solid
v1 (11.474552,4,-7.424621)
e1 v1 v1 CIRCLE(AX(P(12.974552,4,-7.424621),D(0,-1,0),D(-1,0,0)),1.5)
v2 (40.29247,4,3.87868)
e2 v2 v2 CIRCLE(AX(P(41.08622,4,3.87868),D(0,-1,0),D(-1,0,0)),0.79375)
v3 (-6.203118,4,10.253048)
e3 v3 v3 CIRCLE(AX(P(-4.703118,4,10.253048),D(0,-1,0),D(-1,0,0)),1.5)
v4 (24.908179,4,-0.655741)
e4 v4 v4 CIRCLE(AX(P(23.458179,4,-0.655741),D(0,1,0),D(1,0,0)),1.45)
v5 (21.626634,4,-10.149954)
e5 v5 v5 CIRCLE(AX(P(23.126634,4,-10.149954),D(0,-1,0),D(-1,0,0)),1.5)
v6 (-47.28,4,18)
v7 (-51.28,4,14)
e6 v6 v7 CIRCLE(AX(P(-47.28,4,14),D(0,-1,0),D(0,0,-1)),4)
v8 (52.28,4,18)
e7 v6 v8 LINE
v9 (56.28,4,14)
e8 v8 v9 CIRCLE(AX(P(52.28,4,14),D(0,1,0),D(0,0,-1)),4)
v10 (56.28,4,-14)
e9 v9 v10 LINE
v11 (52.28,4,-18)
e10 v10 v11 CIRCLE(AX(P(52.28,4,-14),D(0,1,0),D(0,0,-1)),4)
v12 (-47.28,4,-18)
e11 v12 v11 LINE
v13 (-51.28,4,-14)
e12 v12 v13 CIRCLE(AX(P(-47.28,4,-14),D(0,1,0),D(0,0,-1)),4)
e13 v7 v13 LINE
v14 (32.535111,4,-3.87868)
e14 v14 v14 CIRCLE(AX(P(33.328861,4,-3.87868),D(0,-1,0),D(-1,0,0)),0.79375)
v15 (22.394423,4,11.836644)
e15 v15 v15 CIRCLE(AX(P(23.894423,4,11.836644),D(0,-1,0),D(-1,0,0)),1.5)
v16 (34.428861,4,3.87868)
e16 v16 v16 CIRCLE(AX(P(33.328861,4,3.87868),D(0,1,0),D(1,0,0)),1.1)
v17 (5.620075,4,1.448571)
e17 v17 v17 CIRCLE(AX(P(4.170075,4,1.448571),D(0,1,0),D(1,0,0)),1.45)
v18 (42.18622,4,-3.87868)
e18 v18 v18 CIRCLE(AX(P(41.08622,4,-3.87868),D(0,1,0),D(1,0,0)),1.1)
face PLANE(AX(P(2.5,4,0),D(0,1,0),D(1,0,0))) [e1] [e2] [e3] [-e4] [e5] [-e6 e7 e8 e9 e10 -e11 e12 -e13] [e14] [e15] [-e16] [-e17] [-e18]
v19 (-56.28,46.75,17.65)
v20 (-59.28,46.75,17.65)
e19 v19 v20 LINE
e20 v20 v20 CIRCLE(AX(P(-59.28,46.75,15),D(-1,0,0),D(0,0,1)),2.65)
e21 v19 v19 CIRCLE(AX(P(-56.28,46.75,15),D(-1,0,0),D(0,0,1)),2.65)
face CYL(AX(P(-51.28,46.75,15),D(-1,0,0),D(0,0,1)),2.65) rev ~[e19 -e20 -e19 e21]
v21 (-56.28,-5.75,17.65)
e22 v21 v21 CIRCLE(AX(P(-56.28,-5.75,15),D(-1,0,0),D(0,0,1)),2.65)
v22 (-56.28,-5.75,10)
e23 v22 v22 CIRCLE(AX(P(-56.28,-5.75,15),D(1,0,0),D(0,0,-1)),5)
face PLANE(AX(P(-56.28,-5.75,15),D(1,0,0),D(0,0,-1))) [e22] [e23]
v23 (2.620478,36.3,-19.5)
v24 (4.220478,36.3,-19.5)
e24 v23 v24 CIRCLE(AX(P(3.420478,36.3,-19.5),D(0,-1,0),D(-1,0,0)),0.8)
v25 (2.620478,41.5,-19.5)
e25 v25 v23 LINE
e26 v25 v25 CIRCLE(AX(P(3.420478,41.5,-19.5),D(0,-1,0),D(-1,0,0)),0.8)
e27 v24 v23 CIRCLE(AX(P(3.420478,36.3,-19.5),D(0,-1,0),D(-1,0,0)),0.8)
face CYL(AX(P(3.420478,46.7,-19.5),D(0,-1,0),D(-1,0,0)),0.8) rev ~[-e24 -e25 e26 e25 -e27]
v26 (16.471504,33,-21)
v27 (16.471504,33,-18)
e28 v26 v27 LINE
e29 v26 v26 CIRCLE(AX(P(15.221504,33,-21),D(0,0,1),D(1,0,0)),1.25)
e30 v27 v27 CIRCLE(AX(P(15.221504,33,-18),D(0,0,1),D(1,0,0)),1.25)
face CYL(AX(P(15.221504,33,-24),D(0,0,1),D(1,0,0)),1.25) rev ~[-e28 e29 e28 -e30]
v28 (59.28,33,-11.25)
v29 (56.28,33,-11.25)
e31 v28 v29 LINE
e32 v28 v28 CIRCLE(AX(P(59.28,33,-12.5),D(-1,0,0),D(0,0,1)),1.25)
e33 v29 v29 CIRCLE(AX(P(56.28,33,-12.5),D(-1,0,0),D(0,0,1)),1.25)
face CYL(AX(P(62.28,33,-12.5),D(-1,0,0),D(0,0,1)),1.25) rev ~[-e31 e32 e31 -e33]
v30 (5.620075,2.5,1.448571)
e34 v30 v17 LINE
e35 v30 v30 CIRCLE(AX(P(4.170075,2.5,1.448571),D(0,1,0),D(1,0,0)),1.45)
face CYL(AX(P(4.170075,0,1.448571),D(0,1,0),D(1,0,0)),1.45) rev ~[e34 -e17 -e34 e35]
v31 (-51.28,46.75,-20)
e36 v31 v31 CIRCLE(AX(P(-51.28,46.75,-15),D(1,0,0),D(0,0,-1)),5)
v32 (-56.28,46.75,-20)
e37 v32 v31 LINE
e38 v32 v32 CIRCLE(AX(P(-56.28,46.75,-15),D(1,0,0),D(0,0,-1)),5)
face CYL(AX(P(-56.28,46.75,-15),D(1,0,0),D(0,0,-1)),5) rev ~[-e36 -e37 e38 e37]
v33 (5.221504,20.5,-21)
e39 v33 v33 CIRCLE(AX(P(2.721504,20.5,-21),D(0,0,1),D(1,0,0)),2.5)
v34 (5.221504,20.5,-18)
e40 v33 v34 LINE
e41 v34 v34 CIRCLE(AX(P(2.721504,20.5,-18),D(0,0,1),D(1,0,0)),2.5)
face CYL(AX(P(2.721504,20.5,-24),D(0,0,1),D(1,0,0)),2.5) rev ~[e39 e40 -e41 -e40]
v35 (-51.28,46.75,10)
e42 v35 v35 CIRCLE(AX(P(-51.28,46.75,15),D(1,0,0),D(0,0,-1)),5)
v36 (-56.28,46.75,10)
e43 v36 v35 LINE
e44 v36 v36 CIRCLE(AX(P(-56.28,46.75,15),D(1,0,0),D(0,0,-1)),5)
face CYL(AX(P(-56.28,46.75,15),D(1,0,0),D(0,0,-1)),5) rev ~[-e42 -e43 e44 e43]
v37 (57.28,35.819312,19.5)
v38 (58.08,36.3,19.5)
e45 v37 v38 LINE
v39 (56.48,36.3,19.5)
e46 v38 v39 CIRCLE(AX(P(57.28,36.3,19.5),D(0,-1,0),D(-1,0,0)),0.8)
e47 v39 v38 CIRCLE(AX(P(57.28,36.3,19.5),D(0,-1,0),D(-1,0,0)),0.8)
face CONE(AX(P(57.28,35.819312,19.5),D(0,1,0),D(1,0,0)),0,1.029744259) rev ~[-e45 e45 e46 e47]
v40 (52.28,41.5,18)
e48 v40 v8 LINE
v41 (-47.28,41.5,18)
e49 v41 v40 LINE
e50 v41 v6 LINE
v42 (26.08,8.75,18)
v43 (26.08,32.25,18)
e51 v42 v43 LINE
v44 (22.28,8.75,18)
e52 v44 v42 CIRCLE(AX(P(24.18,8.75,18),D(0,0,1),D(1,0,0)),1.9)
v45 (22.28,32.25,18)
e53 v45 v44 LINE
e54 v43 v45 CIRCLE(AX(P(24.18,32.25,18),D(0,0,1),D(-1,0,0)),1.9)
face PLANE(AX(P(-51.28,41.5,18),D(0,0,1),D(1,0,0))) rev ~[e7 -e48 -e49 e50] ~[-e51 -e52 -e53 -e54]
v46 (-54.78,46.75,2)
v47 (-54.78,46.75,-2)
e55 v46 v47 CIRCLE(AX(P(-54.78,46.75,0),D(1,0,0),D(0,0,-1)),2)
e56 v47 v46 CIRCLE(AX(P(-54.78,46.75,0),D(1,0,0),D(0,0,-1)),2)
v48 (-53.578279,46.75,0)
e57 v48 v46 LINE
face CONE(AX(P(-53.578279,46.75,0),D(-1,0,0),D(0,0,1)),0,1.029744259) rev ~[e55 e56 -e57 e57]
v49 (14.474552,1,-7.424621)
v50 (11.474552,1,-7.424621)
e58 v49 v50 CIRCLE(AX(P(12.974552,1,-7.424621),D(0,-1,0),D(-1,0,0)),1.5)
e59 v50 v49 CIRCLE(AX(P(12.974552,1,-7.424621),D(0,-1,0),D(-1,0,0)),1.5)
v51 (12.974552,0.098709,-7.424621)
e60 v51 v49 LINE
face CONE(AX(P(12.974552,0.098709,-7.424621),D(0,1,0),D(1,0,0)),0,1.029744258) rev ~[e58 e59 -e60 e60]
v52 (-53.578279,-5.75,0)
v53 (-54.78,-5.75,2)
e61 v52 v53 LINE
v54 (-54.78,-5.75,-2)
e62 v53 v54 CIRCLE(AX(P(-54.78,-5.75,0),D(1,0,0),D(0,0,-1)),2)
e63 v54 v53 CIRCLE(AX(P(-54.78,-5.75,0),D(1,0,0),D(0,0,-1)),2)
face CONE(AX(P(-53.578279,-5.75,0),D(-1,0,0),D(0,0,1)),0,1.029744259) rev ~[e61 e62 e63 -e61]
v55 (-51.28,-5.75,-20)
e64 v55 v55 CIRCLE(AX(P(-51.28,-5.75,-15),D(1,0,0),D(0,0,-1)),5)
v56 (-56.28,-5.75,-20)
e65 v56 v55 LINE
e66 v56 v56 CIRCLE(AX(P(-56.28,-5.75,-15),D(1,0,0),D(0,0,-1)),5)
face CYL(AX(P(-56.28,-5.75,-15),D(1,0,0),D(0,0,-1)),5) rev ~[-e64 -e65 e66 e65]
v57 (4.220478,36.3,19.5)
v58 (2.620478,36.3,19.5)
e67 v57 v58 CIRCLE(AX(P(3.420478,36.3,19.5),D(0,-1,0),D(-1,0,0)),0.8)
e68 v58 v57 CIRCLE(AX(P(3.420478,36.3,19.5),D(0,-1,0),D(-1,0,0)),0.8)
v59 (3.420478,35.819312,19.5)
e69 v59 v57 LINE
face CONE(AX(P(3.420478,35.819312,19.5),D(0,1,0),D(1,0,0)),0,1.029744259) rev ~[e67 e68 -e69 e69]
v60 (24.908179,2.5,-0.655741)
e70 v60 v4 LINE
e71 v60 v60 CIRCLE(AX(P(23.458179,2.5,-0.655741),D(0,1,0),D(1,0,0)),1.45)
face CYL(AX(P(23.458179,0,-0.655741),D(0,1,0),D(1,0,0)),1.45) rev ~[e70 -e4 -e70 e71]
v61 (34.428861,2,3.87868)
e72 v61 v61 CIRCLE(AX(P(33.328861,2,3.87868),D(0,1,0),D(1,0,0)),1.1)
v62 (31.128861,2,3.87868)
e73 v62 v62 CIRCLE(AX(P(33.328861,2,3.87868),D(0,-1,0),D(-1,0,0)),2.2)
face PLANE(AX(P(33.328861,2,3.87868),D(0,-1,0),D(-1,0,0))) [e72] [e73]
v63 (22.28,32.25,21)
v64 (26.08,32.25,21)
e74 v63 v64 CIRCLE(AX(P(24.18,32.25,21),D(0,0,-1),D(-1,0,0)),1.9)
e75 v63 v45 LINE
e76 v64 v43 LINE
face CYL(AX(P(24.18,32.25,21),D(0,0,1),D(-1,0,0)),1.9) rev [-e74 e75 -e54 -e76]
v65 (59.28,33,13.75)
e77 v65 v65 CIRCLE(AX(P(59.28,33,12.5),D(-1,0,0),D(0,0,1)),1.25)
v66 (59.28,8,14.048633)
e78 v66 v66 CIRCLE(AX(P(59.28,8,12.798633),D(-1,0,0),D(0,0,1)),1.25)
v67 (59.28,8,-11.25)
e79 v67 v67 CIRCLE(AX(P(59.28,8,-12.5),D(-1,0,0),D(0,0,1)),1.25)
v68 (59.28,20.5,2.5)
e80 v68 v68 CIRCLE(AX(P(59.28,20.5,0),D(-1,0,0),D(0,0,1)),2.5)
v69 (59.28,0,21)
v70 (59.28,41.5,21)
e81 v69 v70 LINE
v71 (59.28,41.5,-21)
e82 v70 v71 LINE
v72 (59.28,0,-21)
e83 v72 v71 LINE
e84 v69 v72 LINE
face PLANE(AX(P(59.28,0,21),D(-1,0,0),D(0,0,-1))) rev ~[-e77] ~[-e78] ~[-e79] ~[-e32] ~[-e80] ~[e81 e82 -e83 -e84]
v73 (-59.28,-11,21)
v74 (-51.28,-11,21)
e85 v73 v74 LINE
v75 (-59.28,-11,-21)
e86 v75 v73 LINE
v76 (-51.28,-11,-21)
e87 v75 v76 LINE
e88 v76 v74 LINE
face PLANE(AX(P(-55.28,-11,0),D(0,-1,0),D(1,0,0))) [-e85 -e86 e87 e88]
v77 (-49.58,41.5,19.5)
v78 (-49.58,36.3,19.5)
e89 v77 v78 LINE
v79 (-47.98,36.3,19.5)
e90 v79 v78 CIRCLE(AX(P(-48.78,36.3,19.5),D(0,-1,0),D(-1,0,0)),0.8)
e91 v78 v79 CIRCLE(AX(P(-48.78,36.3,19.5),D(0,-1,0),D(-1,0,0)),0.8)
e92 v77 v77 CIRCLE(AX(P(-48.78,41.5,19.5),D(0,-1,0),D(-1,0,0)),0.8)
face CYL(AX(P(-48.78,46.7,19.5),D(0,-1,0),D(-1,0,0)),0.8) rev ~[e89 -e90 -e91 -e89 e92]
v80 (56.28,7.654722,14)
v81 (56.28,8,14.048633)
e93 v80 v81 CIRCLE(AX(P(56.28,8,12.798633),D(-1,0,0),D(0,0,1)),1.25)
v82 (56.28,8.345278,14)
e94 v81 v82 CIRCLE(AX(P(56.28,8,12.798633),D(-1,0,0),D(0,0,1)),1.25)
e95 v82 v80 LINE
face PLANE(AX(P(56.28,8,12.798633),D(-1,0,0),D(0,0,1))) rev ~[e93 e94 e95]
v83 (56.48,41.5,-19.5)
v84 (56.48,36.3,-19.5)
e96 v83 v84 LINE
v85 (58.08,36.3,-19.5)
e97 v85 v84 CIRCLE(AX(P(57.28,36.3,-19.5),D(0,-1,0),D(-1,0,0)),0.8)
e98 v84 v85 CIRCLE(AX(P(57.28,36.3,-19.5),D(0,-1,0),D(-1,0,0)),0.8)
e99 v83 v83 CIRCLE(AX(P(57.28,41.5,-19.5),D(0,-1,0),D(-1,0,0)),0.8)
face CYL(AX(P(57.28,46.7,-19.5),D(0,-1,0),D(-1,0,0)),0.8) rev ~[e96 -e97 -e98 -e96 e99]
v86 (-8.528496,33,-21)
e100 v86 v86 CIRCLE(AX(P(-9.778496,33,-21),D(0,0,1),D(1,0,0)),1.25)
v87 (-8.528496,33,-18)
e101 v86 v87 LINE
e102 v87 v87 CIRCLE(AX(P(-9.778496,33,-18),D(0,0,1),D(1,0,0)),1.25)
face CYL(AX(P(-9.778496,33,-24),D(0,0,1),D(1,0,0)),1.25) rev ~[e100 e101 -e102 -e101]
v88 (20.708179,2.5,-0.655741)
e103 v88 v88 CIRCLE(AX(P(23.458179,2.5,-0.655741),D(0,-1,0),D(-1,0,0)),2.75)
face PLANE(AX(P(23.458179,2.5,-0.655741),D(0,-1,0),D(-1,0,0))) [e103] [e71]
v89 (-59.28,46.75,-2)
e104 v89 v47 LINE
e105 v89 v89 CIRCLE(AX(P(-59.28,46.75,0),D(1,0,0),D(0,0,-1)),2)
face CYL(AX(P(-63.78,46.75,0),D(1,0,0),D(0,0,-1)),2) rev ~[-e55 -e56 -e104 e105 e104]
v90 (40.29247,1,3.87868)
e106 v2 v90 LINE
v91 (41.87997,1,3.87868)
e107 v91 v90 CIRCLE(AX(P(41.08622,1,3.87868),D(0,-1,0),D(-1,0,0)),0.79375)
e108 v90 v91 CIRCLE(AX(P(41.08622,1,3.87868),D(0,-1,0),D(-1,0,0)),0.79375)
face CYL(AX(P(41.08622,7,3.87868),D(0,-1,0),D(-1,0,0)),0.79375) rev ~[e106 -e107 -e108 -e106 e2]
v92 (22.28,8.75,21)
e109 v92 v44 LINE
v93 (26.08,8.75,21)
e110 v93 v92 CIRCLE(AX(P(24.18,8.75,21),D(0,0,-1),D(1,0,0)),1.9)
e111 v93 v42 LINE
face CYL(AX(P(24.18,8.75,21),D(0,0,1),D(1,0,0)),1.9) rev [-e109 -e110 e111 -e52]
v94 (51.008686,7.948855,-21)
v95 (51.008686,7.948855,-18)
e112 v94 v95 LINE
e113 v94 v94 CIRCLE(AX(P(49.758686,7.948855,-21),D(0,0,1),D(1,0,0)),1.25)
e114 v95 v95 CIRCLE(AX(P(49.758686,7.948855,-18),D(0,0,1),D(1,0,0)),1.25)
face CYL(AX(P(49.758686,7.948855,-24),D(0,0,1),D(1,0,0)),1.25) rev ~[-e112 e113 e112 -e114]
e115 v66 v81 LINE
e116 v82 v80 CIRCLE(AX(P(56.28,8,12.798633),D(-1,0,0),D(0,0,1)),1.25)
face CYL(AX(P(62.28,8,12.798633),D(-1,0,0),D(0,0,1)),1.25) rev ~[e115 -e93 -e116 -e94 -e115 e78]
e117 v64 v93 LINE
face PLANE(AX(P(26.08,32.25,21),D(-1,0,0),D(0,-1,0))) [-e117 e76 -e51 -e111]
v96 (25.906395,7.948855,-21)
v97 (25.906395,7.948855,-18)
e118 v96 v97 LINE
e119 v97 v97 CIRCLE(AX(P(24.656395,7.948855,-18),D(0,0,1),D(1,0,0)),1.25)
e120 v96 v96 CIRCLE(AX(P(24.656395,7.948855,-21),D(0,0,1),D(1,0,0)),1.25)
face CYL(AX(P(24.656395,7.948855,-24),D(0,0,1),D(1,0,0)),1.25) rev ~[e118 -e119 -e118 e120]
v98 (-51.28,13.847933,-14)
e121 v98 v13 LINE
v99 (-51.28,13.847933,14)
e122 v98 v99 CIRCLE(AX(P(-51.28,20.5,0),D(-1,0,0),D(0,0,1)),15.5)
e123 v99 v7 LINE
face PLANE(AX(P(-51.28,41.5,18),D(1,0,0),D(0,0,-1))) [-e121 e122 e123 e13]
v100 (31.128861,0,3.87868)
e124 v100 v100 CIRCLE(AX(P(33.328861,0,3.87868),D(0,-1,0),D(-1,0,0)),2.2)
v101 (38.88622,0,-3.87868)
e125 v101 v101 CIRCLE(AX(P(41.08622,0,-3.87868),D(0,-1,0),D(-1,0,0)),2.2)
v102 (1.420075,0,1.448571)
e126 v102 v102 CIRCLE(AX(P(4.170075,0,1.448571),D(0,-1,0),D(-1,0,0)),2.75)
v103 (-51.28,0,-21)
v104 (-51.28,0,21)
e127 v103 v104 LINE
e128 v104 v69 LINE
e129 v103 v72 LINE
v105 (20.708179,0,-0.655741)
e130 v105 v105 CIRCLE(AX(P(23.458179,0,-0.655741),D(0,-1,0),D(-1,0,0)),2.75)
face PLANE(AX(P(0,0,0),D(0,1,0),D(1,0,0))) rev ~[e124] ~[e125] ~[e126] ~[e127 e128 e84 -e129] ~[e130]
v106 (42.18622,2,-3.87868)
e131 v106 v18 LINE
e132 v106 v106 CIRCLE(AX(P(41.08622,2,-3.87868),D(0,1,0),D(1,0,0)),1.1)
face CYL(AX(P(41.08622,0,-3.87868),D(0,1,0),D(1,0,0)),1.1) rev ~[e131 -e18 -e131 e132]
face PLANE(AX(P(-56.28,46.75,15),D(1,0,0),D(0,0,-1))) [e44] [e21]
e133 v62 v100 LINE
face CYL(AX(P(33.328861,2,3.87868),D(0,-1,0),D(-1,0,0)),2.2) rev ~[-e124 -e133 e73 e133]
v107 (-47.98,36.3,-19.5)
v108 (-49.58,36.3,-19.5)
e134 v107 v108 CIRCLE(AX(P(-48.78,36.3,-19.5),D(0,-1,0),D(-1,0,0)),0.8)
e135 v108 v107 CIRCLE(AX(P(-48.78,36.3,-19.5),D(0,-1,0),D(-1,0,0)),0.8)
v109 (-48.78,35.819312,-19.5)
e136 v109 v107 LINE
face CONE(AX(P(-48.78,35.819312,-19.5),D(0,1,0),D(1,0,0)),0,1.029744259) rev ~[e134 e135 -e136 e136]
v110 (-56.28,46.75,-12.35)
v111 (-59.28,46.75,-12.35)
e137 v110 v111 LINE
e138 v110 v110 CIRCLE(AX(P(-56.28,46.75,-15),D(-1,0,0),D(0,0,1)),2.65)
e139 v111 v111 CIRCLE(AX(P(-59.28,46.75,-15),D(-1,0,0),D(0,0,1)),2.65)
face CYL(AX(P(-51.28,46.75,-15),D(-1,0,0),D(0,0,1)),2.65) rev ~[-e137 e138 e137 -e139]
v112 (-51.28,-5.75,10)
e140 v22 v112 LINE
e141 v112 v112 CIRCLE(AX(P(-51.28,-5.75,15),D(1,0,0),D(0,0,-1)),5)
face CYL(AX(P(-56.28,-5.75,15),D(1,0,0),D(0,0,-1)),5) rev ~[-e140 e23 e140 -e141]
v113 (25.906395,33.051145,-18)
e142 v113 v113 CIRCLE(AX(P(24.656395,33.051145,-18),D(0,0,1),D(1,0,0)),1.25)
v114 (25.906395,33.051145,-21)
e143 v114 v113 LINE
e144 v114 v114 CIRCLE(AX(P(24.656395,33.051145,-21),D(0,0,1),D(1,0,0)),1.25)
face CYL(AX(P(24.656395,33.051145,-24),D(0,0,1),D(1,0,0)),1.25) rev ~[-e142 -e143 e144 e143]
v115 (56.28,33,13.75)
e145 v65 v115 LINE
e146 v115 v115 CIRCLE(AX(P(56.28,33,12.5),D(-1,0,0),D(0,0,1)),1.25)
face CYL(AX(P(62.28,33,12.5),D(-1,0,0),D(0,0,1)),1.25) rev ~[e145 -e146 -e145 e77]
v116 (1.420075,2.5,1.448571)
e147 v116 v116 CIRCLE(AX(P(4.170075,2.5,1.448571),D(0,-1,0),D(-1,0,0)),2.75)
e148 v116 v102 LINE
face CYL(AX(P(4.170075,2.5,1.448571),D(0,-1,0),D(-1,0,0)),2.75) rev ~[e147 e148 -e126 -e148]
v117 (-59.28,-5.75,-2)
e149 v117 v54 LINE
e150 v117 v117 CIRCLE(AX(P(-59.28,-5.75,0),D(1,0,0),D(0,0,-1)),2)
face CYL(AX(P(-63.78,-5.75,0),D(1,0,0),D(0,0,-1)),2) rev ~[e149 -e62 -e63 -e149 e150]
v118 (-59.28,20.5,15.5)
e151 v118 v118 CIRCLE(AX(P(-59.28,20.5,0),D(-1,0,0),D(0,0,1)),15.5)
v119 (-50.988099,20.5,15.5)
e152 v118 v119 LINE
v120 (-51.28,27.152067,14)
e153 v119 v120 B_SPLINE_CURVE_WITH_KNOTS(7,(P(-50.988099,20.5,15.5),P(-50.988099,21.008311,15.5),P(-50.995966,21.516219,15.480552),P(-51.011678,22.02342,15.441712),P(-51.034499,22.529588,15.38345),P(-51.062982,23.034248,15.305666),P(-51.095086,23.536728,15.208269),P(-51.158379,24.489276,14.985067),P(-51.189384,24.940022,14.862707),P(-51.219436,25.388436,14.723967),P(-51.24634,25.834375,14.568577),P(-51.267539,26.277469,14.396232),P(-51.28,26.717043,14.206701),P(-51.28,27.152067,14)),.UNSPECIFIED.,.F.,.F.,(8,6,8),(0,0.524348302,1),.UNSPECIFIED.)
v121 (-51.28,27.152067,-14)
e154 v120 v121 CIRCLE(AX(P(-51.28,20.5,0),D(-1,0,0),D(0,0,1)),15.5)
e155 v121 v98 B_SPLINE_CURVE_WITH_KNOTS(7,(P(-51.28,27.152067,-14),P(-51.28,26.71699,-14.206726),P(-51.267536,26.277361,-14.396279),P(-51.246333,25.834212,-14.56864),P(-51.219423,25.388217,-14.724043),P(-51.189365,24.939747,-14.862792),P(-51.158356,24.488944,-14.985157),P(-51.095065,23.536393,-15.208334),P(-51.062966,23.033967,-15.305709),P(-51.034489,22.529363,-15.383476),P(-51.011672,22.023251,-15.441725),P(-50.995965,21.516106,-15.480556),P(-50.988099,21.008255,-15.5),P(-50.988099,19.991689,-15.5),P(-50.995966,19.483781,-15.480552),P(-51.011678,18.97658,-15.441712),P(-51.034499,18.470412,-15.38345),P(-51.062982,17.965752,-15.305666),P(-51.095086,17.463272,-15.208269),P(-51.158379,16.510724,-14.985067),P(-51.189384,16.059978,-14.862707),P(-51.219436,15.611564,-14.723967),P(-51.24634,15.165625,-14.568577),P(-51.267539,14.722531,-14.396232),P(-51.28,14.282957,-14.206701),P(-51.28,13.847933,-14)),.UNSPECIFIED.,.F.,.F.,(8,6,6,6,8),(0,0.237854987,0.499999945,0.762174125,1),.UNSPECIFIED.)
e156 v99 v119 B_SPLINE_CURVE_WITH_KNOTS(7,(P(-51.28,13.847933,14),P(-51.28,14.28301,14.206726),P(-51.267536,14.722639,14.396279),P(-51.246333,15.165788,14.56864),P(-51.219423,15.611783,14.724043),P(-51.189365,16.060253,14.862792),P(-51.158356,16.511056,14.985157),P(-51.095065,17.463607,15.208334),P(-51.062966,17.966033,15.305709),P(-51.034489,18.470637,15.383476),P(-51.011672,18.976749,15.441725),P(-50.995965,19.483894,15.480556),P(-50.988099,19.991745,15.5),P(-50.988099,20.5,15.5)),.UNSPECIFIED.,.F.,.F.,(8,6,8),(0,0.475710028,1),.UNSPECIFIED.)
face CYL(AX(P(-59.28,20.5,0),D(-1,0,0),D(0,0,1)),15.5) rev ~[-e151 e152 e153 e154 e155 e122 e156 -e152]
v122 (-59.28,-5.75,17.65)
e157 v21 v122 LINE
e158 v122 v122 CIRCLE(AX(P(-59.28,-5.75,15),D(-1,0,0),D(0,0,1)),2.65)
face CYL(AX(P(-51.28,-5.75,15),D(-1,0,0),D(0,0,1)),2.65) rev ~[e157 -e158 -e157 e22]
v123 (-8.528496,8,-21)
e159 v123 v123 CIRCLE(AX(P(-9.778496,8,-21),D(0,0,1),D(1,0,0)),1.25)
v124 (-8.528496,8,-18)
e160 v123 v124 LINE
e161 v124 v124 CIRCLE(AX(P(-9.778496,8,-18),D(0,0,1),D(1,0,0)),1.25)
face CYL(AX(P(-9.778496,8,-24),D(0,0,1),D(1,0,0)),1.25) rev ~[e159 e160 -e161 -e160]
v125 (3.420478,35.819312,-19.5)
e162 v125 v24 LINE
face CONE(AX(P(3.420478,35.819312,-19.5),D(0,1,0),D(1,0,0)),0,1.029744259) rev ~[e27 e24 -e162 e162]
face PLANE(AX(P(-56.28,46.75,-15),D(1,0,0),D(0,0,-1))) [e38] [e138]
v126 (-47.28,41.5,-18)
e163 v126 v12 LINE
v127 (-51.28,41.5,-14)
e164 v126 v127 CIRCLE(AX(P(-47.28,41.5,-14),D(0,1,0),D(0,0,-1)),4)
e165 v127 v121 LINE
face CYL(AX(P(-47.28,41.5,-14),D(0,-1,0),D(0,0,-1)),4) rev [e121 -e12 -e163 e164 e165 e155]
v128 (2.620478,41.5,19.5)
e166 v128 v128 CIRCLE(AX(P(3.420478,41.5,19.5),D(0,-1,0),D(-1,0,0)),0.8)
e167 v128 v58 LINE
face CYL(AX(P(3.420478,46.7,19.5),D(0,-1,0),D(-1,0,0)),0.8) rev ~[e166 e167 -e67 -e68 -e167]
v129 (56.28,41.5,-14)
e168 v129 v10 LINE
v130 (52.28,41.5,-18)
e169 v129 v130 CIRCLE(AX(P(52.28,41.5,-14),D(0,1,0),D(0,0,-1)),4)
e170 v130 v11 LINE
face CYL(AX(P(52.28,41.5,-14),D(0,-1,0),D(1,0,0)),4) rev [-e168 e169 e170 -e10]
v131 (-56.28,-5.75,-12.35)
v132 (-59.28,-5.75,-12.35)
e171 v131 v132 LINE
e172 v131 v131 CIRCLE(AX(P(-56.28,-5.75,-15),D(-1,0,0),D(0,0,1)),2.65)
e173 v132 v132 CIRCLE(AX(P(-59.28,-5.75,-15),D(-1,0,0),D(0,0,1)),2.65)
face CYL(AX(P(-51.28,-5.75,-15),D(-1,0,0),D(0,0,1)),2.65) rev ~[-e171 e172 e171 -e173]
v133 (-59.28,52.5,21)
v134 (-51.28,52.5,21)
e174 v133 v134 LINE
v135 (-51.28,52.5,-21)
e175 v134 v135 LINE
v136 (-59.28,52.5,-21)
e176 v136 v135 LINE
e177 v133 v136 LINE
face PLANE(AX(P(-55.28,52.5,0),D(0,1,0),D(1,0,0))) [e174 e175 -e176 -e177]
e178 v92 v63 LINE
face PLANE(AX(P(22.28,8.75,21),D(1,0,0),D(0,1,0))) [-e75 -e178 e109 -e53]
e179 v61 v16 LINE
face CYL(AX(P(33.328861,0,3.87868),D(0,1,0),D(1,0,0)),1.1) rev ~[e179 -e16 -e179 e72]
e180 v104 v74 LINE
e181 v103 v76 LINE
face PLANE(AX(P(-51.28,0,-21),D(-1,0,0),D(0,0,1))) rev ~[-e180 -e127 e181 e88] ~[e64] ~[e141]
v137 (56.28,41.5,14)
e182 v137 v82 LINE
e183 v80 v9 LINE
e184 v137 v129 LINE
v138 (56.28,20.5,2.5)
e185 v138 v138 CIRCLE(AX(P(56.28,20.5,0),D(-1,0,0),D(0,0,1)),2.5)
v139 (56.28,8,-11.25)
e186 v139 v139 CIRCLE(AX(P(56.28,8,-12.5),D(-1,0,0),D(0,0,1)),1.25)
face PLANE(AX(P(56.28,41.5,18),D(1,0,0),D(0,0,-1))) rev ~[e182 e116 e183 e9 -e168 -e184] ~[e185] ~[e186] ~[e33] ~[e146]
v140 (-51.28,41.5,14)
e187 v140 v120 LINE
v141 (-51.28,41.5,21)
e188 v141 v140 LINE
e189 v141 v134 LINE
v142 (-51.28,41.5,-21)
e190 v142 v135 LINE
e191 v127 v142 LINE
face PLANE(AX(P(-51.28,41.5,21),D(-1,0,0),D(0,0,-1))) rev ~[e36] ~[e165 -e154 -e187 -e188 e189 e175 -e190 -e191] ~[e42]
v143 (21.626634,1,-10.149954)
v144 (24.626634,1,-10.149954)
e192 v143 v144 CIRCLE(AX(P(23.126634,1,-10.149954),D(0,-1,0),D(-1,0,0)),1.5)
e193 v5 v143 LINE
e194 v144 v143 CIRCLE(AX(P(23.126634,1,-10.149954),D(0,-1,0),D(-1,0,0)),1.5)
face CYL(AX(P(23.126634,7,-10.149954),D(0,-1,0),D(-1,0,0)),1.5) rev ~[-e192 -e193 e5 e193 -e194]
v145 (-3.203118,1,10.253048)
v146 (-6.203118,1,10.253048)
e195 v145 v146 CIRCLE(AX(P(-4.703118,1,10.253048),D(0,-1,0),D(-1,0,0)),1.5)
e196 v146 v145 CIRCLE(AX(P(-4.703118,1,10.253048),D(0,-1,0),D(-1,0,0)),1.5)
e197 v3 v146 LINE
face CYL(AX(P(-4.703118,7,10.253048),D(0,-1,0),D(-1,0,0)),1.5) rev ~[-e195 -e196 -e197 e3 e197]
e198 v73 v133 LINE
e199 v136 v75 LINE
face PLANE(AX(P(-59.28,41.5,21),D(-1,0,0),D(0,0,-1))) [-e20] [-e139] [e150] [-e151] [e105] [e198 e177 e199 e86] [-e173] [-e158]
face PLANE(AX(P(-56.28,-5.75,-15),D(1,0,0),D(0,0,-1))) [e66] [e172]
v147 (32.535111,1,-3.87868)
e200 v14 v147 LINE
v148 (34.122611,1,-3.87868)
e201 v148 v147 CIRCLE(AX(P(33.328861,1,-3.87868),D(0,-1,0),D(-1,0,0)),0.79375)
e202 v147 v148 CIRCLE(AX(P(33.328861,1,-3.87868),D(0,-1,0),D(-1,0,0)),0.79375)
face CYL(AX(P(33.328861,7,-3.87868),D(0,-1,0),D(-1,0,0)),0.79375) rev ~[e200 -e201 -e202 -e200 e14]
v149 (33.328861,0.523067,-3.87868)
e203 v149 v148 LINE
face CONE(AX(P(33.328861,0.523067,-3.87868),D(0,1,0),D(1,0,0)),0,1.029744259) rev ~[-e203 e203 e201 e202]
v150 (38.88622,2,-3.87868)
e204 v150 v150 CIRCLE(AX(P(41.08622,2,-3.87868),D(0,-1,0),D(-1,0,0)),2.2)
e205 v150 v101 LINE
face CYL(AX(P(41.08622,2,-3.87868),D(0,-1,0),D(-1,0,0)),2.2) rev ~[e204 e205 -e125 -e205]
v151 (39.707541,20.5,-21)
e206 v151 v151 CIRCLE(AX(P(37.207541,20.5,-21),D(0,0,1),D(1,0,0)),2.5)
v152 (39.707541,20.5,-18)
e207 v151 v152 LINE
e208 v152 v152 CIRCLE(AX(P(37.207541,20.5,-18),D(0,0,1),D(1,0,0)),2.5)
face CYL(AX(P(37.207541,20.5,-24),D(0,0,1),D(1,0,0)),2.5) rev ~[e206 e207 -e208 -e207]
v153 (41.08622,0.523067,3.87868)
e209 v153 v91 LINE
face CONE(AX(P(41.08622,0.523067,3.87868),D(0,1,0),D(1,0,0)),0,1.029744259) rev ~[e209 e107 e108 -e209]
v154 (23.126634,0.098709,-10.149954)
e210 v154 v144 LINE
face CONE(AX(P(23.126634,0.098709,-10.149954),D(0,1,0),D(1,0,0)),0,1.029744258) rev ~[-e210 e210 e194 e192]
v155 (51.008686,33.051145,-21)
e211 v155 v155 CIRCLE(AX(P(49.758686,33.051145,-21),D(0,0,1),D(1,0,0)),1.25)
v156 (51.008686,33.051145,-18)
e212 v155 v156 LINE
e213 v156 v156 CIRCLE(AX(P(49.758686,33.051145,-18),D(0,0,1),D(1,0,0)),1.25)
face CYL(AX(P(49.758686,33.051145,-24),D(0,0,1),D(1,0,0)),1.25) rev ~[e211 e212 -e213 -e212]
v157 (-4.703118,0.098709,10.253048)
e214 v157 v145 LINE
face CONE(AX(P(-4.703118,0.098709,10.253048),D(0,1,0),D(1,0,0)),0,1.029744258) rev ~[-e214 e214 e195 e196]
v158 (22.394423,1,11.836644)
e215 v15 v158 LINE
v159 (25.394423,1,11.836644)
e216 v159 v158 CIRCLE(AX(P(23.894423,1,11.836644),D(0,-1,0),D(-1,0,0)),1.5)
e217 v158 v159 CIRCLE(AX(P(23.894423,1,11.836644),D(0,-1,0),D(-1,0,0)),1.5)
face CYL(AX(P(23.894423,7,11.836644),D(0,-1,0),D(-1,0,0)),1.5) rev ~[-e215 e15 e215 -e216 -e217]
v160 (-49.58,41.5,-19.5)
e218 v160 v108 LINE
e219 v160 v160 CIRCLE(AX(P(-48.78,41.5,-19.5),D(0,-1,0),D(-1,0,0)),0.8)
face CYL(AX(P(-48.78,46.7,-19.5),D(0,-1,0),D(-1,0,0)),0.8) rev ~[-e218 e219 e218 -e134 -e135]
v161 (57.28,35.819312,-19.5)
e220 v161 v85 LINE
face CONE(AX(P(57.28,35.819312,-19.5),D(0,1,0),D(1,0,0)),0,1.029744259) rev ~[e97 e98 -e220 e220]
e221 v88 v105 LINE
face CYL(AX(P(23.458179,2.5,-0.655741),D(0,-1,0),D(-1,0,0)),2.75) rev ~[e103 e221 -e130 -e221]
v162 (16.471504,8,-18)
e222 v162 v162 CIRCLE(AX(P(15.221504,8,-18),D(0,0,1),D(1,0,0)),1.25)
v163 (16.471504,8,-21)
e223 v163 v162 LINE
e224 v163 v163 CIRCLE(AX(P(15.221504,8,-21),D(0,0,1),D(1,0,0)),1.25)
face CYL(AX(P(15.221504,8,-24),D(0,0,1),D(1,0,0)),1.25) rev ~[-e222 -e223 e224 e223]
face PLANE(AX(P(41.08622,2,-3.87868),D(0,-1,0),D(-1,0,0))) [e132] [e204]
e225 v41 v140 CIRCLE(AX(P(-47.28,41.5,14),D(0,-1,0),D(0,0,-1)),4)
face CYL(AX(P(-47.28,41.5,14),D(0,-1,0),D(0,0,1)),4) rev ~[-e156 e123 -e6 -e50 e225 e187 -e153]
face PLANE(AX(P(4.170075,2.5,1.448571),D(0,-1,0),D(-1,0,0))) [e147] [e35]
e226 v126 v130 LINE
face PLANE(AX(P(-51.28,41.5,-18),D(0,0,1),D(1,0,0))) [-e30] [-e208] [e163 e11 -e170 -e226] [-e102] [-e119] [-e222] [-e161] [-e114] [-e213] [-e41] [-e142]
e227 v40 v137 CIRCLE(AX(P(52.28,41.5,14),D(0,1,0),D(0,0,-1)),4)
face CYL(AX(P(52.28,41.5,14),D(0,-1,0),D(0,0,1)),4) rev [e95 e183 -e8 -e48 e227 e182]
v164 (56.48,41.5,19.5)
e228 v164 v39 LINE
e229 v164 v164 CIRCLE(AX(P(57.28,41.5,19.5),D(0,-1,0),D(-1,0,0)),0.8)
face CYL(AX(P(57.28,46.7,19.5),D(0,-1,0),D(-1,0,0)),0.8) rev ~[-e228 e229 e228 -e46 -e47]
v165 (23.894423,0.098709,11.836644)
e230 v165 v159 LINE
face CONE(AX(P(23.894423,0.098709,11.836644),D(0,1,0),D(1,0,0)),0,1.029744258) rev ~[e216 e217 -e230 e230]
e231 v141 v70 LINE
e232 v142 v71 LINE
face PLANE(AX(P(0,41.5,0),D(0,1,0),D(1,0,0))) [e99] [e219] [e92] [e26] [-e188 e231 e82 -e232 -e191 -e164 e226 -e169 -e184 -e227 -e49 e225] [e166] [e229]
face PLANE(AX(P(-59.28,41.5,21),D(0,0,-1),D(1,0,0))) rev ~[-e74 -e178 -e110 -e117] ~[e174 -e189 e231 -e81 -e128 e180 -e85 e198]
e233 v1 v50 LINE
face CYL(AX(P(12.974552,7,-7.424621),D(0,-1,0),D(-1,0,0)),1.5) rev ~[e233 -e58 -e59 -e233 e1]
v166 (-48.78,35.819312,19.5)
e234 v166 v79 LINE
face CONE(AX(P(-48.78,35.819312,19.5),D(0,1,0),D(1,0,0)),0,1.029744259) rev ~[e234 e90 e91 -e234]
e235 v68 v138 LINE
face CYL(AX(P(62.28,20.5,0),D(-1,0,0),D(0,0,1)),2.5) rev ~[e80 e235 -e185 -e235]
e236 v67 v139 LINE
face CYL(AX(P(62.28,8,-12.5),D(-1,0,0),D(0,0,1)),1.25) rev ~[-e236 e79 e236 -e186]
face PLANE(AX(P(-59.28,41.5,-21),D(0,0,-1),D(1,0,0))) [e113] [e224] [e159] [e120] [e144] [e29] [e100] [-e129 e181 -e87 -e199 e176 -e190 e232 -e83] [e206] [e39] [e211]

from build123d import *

# Parameters (mm, degrees)
SKETCH1_W                        = 118.56
SKETCH1_H                        = 42
BOSS_EXTRUDE1_DEPTH              = 41.5
SKETCH2_W                        = 107.56
SKETCH2_H                        = 36
CUT_EXTRUDE1_DEPTH               = 37.5
FILLET1_R                        = 4
CUT_EXTRUDE2_REACH               = 120.56
SKETCH3_R                        = 15.5
CUT_EXTRUDE5_REACH               = 44
SKETCH22_W                       = 8
SKETCH22_H                       = 42
BOSS_EXTRUDE3_DEPTH              = 11
SKETCH23_W                       = 8
SKETCH23_H                       = 42
BOSS_EXTRUDE4_DEPTH              = 11
F_4_0MM_DOWEL_HOLE2_D            = 4
F_4_0MM_DOWEL_HOLE2_DEPTH        = 4.5
F_4_0MM_DOWEL_HOLE2_TIP          = 1.201721238
CBORE_FOR_M5_SHCS1_D             = 5.3
CBORE_FOR_M5_SHCS1_CBORE_D       = 10
CBORE_FOR_M5_SHCS1_CBORE_DEPTH   = 5
F_5_0MM_DOWEL_HOLE1_D            = 5
F_5_0MM_DOWEL_HOLE1_DEPTH        = 3
F_5_0MM_DOWEL_HOLE2_D            = 5
F_5_0MM_DOWEL_HOLE2_DEPTH        = 3
M3X0_5_TAPPED_HOLE1_D            = 2.5
M3X0_5_TAPPED_HOLE1_DEPTH        = 3
M3X0_5_TAPPED_HOLE2_D            = 2.5
M3X0_5_TAPPED_HOLE2_DEPTH        = 3
F_3_0MM_DOWEL_HOLE1_D            = 3
F_3_0MM_DOWEL_HOLE1_DEPTH        = 3
F_3_0MM_DOWEL_HOLE1_TIP          = 0.901290929
CBORE_FOR_M2_5_SHCS1_D           = 2.9
CBORE_FOR_M2_5_SHCS1_DEPTH       = 4
CBORE_FOR_M2_5_SHCS1_CBORE_D     = 5.5
CBORE_FOR_M2_5_SHCS1_CBORE_DEPTH = 2.5
F_1_16_0_0625_DOWEL_HOLE1_D      = 1.5875
F_1_16_0_0625_DOWEL_HOLE1_DEPTH  = 3
F_1_16_0_0625_DOWEL_HOLE1_TIP    = 0.476933116
CBORE_FOR_M2_SHCS1_D             = 2.2
CBORE_FOR_M2_SHCS1_DEPTH         = 4
CBORE_FOR_M2_SHCS1_CBORE_D       = 4.4
CBORE_FOR_M2_SHCS1_CBORE_DEPTH   = 2
F_3_0MM_DOWEL_HOLE2_D            = 3
F_3_0MM_DOWEL_HOLE2_DEPTH        = 3
F_3_0MM_DOWEL_HOLE2_TIP          = 0.901290929
CBORE_FOR_M2_5_SHCS2_D           = 2.9
CBORE_FOR_M2_5_SHCS2_DEPTH       = 4
CBORE_FOR_M2_5_SHCS2_CBORE_D     = 5.5
CBORE_FOR_M2_5_SHCS2_CBORE_DEPTH = 2.5
M2X0_4_TAPPED_HOLE1_D            = 1.6
M2X0_4_TAPPED_HOLE1_DEPTH        = 5.2
M2X0_4_TAPPED_HOLE1_TIP          = 0.480688495


with BuildPart() as part:
    # Sketch1 → Boss-Extrude1 (new body)
    with BuildSketch(Plane(origin=(0, 0, 0), x_dir=(1, 0, 0), z_dir=(0, 1, 0))):
        Rectangle(SKETCH1_W, SKETCH1_H)
    extrude(amount=BOSS_EXTRUDE1_DEPTH)

    # Sketch2 → Cut-Extrude1 (cut)
    with BuildSketch(Plane(origin=(0, 41.5, 0), x_dir=(1, 0, 0), z_dir=(0, 1, 0))):
        with Locations((2.5, 0)):
            Rectangle(SKETCH2_W, SKETCH2_H)
    extrude(amount=-CUT_EXTRUDE1_DEPTH, mode=Mode.SUBTRACT)

    # Fillet1
    fillet1_edges = [part.edges().sort_by_distance(p)[0] for p in [
        (-51.28, 22.75, 18),
        (-51.28, 22.75, -18),
        (56.28, 22.75, -18),
        (56.28, 22.75, 18),
    ]]
    fillet(fillet1_edges, radius=FILLET1_R)

    # Sketch3 → Cut-Extrude2 (cut, up to next)
    with BuildSketch(Plane.ZY.offset(59.28), mode=Mode.PRIVATE) as cut_extrude2_sk1:
        with Locations((0, 20.5)):
            Circle(SKETCH3_R)
    cut_extrude2_tool1 = extrude(cut_extrude2_sk1.sketch, amount=-CUT_EXTRUDE2_REACH, mode=Mode.PRIVATE) & part.part
    add(cut_extrude2_tool1.solids().sort_by_distance((-59.28, 20.5, 0))[0], mode=Mode.SUBTRACT)

    # Sketch10 → Cut-Extrude5 (cut, up to next)
    with BuildSketch(Plane.XY.offset(21), mode=Mode.PRIVATE) as cut_extrude5_sk1:
        with BuildLine():
            Line((26.08, 32.25), (26.08, 8.75))
            ThreePointArc((26.08, 8.75), (24.18, 6.85), (22.28, 8.75))
            Line((22.28, 8.75), (22.28, 32.25))
            ThreePointArc((22.28, 32.25), (24.18, 34.15), (26.08, 32.25))
        make_face()
    cut_extrude5_tool1 = extrude(cut_extrude5_sk1.sketch, amount=-CUT_EXTRUDE5_REACH, mode=Mode.PRIVATE) & part.part
    add(cut_extrude5_tool1.solids().sort_by_distance((24.18, 20.5, 21))[0], mode=Mode.SUBTRACT)

    # Sketch22 → Boss-Extrude3 (add)
    with BuildSketch(Plane.XZ):
        with Locations((-55.28, 0)):
            Rectangle(SKETCH22_W, SKETCH22_H)
    extrude(amount=BOSS_EXTRUDE3_DEPTH)

    # Sketch23 → Boss-Extrude4 (add)
    with BuildSketch(Plane(origin=(0, 41.5, 0), x_dir=(1, 0, 0), z_dir=(0, 1, 0))):
        with Locations((-55.28, 0)):
            Rectangle(SKETCH23_W, SKETCH23_H)
    extrude(amount=BOSS_EXTRUDE4_DEPTH)

    # Ø4.0mm Dowel Hole2
    with Locations(Plane.ZY.offset(59.28)):
        with Locations((0, 46.75), (0, -5.75)):
            Hole(F_4_0MM_DOWEL_HOLE2_D / 2, depth=F_4_0MM_DOWEL_HOLE2_DEPTH)
            with Locations((0, 0, -(F_4_0MM_DOWEL_HOLE2_DEPTH + F_4_0MM_DOWEL_HOLE2_TIP / 2))):  # 118° drill point
                Cone(0, F_4_0MM_DOWEL_HOLE2_D / 2, F_4_0MM_DOWEL_HOLE2_TIP, mode=Mode.SUBTRACT)

    # CBORE for M5 SHCS1 (through all)
    with Locations(Plane(origin=(-51.28, 0, 0), x_dir=(0, 0, -1), z_dir=(1, 0, 0))):
        with Locations((-15, 46.75), (15, 46.75), (-15, -5.75), (15, -5.75)):
            CounterBoreHole(CBORE_FOR_M5_SHCS1_D / 2, CBORE_FOR_M5_SHCS1_CBORE_D / 2, CBORE_FOR_M5_SHCS1_CBORE_DEPTH)

    # Ø5.0mm Dowel Hole1
    with Locations(Plane(origin=(0, 0, -21), x_dir=(-1, 0, 0), z_dir=(0, 0, -1))):
        with Locations((-2.721503605, 20.5), (-37.207540509, 20.5)):
            Hole(F_5_0MM_DOWEL_HOLE1_D / 2, depth=F_5_0MM_DOWEL_HOLE1_DEPTH)

    # Ø5.0mm Dowel Hole2
    with Locations(Plane(origin=(59.28, 0, 0), x_dir=(0, 0, -1), z_dir=(1, 0, 0))):
        with Locations((0, 20.5)):
            Hole(F_5_0MM_DOWEL_HOLE2_D / 2, depth=F_5_0MM_DOWEL_HOLE2_DEPTH)

    # M3x0.5 Tapped Hole1
    with Locations(Plane(origin=(0, 0, -21), x_dir=(-1, 0, 0), z_dir=(0, 0, -1))):
        with Locations((9.778496395, 8), (-15.221503605, 8), (-15.221503605, 33), (9.778496395, 33), (-24.656395143, 7.948854634), (-49.758685875, 7.948854634), (-49.758685875, 33.051145366), (-24.656395143, 33.051145366)):
            Hole(M3X0_5_TAPPED_HOLE1_D / 2, depth=M3X0_5_TAPPED_HOLE1_DEPTH)

    # M3x0.5 Tapped Hole2
    with Locations(Plane(origin=(59.28, 0, 0), x_dir=(0, 0, -1), z_dir=(1, 0, 0))):
        with Locations((12.5, 8), (-12.798632739, 8), (-12.5, 33), (12.5, 33)):
            Hole(M3X0_5_TAPPED_HOLE2_D / 2, depth=M3X0_5_TAPPED_HOLE2_DEPTH)

    # Ø3.0mm Dowel Hole1
    with Locations(Plane(origin=(0, 4, 0), x_dir=(1, 0, 0), z_dir=(0, 1, 0))):
        with Locations((-4.703117598, -10.253048327), (12.974551932, 7.424621202)):
            Hole(F_3_0MM_DOWEL_HOLE1_D / 2, depth=F_3_0MM_DOWEL_HOLE1_DEPTH)
            with Locations((0, 0, -(F_3_0MM_DOWEL_HOLE1_DEPTH + F_3_0MM_DOWEL_HOLE1_TIP / 2))):  # 118° drill point
                Cone(0, F_3_0MM_DOWEL_HOLE1_D / 2, F_3_0MM_DOWEL_HOLE1_TIP, mode=Mode.SUBTRACT)

    # CBORE for M2.5 SHCS1
    with Locations(Plane(origin=(0, 0, 0), x_dir=(-1, 0, 0), z_dir=(0, -1, 0))):
        with Locations((-4.170075035, -1.448571431)):
            CounterBoreHole(CBORE_FOR_M2_5_SHCS1_D / 2, CBORE_FOR_M2_5_SHCS1_CBORE_D / 2, CBORE_FOR_M2_5_SHCS1_CBORE_DEPTH, depth=CBORE_FOR_M2_5_SHCS1_DEPTH)

    # 1/16 (0.0625) Dowel Hole1
    with Locations(Plane(origin=(0, 4, 0), x_dir=(1, 0, 0), z_dir=(0, 1, 0))):
        with Locations((41.086220165, -3.878679656), (33.328860853, 3.878679656)):
            Hole(F_1_16_0_0625_DOWEL_HOLE1_D / 2, depth=F_1_16_0_0625_DOWEL_HOLE1_DEPTH)
            with Locations((0, 0, -(F_1_16_0_0625_DOWEL_HOLE1_DEPTH + F_1_16_0_0625_DOWEL_HOLE1_TIP / 2))):  # 118° drill point
                Cone(0, F_1_16_0_0625_DOWEL_HOLE1_D / 2, F_1_16_0_0625_DOWEL_HOLE1_TIP, mode=Mode.SUBTRACT)

    # CBORE for M2 SHCS1
    with Locations(Plane(origin=(0, 0, 0), x_dir=(-1, 0, 0), z_dir=(0, -1, 0))):
        with Locations((-41.086220165, 3.878679656), (-33.328860853, -3.878679656)):
            CounterBoreHole(CBORE_FOR_M2_SHCS1_D / 2, CBORE_FOR_M2_SHCS1_CBORE_D / 2, CBORE_FOR_M2_SHCS1_CBORE_DEPTH, depth=CBORE_FOR_M2_SHCS1_DEPTH)

    # Ø3.0mm Dowel Hole2
    with Locations(Plane(origin=(0, 4, 0), x_dir=(1, 0, 0), z_dir=(0, 1, 0))):
        with Locations((23.894423104, -11.836644244), (23.126634177, 10.14995395)):
            Hole(F_3_0MM_DOWEL_HOLE2_D / 2, depth=F_3_0MM_DOWEL_HOLE2_DEPTH)
            with Locations((0, 0, -(F_3_0MM_DOWEL_HOLE2_DEPTH + F_3_0MM_DOWEL_HOLE2_TIP / 2))):  # 118° drill point
                Cone(0, F_3_0MM_DOWEL_HOLE2_D / 2, F_3_0MM_DOWEL_HOLE2_TIP, mode=Mode.SUBTRACT)

    # CBORE for M2.5 SHCS2
    with Locations(Plane(origin=(0, 0, 0), x_dir=(-1, 0, 0), z_dir=(0, -1, 0))):
        with Locations((-23.458179395, 0.655741094)):
            CounterBoreHole(CBORE_FOR_M2_5_SHCS2_D / 2, CBORE_FOR_M2_5_SHCS2_CBORE_D / 2, CBORE_FOR_M2_5_SHCS2_CBORE_DEPTH, depth=CBORE_FOR_M2_5_SHCS2_DEPTH)

    # M2x0.4 Tapped Hole1
    with Locations(Plane(origin=(0, 41.5, 0), x_dir=(1, 0, 0), z_dir=(0, 1, 0))):
        with Locations((57.28, -19.5), (3.420478131, -19.5), (-48.78, -19.5), (-48.78, 19.5), (3.420478131, 19.5), (57.28, 19.5)):
            Hole(M2X0_4_TAPPED_HOLE1_D / 2, depth=M2X0_4_TAPPED_HOLE1_DEPTH)
            with Locations((0, 0, -(M2X0_4_TAPPED_HOLE1_DEPTH + M2X0_4_TAPPED_HOLE1_TIP / 2))):  # 118° drill point
                Cone(0, M2X0_4_TAPPED_HOLE1_D / 2, M2X0_4_TAPPED_HOLE1_TIP, mode=Mode.SUBTRACT)


solid = part.part
